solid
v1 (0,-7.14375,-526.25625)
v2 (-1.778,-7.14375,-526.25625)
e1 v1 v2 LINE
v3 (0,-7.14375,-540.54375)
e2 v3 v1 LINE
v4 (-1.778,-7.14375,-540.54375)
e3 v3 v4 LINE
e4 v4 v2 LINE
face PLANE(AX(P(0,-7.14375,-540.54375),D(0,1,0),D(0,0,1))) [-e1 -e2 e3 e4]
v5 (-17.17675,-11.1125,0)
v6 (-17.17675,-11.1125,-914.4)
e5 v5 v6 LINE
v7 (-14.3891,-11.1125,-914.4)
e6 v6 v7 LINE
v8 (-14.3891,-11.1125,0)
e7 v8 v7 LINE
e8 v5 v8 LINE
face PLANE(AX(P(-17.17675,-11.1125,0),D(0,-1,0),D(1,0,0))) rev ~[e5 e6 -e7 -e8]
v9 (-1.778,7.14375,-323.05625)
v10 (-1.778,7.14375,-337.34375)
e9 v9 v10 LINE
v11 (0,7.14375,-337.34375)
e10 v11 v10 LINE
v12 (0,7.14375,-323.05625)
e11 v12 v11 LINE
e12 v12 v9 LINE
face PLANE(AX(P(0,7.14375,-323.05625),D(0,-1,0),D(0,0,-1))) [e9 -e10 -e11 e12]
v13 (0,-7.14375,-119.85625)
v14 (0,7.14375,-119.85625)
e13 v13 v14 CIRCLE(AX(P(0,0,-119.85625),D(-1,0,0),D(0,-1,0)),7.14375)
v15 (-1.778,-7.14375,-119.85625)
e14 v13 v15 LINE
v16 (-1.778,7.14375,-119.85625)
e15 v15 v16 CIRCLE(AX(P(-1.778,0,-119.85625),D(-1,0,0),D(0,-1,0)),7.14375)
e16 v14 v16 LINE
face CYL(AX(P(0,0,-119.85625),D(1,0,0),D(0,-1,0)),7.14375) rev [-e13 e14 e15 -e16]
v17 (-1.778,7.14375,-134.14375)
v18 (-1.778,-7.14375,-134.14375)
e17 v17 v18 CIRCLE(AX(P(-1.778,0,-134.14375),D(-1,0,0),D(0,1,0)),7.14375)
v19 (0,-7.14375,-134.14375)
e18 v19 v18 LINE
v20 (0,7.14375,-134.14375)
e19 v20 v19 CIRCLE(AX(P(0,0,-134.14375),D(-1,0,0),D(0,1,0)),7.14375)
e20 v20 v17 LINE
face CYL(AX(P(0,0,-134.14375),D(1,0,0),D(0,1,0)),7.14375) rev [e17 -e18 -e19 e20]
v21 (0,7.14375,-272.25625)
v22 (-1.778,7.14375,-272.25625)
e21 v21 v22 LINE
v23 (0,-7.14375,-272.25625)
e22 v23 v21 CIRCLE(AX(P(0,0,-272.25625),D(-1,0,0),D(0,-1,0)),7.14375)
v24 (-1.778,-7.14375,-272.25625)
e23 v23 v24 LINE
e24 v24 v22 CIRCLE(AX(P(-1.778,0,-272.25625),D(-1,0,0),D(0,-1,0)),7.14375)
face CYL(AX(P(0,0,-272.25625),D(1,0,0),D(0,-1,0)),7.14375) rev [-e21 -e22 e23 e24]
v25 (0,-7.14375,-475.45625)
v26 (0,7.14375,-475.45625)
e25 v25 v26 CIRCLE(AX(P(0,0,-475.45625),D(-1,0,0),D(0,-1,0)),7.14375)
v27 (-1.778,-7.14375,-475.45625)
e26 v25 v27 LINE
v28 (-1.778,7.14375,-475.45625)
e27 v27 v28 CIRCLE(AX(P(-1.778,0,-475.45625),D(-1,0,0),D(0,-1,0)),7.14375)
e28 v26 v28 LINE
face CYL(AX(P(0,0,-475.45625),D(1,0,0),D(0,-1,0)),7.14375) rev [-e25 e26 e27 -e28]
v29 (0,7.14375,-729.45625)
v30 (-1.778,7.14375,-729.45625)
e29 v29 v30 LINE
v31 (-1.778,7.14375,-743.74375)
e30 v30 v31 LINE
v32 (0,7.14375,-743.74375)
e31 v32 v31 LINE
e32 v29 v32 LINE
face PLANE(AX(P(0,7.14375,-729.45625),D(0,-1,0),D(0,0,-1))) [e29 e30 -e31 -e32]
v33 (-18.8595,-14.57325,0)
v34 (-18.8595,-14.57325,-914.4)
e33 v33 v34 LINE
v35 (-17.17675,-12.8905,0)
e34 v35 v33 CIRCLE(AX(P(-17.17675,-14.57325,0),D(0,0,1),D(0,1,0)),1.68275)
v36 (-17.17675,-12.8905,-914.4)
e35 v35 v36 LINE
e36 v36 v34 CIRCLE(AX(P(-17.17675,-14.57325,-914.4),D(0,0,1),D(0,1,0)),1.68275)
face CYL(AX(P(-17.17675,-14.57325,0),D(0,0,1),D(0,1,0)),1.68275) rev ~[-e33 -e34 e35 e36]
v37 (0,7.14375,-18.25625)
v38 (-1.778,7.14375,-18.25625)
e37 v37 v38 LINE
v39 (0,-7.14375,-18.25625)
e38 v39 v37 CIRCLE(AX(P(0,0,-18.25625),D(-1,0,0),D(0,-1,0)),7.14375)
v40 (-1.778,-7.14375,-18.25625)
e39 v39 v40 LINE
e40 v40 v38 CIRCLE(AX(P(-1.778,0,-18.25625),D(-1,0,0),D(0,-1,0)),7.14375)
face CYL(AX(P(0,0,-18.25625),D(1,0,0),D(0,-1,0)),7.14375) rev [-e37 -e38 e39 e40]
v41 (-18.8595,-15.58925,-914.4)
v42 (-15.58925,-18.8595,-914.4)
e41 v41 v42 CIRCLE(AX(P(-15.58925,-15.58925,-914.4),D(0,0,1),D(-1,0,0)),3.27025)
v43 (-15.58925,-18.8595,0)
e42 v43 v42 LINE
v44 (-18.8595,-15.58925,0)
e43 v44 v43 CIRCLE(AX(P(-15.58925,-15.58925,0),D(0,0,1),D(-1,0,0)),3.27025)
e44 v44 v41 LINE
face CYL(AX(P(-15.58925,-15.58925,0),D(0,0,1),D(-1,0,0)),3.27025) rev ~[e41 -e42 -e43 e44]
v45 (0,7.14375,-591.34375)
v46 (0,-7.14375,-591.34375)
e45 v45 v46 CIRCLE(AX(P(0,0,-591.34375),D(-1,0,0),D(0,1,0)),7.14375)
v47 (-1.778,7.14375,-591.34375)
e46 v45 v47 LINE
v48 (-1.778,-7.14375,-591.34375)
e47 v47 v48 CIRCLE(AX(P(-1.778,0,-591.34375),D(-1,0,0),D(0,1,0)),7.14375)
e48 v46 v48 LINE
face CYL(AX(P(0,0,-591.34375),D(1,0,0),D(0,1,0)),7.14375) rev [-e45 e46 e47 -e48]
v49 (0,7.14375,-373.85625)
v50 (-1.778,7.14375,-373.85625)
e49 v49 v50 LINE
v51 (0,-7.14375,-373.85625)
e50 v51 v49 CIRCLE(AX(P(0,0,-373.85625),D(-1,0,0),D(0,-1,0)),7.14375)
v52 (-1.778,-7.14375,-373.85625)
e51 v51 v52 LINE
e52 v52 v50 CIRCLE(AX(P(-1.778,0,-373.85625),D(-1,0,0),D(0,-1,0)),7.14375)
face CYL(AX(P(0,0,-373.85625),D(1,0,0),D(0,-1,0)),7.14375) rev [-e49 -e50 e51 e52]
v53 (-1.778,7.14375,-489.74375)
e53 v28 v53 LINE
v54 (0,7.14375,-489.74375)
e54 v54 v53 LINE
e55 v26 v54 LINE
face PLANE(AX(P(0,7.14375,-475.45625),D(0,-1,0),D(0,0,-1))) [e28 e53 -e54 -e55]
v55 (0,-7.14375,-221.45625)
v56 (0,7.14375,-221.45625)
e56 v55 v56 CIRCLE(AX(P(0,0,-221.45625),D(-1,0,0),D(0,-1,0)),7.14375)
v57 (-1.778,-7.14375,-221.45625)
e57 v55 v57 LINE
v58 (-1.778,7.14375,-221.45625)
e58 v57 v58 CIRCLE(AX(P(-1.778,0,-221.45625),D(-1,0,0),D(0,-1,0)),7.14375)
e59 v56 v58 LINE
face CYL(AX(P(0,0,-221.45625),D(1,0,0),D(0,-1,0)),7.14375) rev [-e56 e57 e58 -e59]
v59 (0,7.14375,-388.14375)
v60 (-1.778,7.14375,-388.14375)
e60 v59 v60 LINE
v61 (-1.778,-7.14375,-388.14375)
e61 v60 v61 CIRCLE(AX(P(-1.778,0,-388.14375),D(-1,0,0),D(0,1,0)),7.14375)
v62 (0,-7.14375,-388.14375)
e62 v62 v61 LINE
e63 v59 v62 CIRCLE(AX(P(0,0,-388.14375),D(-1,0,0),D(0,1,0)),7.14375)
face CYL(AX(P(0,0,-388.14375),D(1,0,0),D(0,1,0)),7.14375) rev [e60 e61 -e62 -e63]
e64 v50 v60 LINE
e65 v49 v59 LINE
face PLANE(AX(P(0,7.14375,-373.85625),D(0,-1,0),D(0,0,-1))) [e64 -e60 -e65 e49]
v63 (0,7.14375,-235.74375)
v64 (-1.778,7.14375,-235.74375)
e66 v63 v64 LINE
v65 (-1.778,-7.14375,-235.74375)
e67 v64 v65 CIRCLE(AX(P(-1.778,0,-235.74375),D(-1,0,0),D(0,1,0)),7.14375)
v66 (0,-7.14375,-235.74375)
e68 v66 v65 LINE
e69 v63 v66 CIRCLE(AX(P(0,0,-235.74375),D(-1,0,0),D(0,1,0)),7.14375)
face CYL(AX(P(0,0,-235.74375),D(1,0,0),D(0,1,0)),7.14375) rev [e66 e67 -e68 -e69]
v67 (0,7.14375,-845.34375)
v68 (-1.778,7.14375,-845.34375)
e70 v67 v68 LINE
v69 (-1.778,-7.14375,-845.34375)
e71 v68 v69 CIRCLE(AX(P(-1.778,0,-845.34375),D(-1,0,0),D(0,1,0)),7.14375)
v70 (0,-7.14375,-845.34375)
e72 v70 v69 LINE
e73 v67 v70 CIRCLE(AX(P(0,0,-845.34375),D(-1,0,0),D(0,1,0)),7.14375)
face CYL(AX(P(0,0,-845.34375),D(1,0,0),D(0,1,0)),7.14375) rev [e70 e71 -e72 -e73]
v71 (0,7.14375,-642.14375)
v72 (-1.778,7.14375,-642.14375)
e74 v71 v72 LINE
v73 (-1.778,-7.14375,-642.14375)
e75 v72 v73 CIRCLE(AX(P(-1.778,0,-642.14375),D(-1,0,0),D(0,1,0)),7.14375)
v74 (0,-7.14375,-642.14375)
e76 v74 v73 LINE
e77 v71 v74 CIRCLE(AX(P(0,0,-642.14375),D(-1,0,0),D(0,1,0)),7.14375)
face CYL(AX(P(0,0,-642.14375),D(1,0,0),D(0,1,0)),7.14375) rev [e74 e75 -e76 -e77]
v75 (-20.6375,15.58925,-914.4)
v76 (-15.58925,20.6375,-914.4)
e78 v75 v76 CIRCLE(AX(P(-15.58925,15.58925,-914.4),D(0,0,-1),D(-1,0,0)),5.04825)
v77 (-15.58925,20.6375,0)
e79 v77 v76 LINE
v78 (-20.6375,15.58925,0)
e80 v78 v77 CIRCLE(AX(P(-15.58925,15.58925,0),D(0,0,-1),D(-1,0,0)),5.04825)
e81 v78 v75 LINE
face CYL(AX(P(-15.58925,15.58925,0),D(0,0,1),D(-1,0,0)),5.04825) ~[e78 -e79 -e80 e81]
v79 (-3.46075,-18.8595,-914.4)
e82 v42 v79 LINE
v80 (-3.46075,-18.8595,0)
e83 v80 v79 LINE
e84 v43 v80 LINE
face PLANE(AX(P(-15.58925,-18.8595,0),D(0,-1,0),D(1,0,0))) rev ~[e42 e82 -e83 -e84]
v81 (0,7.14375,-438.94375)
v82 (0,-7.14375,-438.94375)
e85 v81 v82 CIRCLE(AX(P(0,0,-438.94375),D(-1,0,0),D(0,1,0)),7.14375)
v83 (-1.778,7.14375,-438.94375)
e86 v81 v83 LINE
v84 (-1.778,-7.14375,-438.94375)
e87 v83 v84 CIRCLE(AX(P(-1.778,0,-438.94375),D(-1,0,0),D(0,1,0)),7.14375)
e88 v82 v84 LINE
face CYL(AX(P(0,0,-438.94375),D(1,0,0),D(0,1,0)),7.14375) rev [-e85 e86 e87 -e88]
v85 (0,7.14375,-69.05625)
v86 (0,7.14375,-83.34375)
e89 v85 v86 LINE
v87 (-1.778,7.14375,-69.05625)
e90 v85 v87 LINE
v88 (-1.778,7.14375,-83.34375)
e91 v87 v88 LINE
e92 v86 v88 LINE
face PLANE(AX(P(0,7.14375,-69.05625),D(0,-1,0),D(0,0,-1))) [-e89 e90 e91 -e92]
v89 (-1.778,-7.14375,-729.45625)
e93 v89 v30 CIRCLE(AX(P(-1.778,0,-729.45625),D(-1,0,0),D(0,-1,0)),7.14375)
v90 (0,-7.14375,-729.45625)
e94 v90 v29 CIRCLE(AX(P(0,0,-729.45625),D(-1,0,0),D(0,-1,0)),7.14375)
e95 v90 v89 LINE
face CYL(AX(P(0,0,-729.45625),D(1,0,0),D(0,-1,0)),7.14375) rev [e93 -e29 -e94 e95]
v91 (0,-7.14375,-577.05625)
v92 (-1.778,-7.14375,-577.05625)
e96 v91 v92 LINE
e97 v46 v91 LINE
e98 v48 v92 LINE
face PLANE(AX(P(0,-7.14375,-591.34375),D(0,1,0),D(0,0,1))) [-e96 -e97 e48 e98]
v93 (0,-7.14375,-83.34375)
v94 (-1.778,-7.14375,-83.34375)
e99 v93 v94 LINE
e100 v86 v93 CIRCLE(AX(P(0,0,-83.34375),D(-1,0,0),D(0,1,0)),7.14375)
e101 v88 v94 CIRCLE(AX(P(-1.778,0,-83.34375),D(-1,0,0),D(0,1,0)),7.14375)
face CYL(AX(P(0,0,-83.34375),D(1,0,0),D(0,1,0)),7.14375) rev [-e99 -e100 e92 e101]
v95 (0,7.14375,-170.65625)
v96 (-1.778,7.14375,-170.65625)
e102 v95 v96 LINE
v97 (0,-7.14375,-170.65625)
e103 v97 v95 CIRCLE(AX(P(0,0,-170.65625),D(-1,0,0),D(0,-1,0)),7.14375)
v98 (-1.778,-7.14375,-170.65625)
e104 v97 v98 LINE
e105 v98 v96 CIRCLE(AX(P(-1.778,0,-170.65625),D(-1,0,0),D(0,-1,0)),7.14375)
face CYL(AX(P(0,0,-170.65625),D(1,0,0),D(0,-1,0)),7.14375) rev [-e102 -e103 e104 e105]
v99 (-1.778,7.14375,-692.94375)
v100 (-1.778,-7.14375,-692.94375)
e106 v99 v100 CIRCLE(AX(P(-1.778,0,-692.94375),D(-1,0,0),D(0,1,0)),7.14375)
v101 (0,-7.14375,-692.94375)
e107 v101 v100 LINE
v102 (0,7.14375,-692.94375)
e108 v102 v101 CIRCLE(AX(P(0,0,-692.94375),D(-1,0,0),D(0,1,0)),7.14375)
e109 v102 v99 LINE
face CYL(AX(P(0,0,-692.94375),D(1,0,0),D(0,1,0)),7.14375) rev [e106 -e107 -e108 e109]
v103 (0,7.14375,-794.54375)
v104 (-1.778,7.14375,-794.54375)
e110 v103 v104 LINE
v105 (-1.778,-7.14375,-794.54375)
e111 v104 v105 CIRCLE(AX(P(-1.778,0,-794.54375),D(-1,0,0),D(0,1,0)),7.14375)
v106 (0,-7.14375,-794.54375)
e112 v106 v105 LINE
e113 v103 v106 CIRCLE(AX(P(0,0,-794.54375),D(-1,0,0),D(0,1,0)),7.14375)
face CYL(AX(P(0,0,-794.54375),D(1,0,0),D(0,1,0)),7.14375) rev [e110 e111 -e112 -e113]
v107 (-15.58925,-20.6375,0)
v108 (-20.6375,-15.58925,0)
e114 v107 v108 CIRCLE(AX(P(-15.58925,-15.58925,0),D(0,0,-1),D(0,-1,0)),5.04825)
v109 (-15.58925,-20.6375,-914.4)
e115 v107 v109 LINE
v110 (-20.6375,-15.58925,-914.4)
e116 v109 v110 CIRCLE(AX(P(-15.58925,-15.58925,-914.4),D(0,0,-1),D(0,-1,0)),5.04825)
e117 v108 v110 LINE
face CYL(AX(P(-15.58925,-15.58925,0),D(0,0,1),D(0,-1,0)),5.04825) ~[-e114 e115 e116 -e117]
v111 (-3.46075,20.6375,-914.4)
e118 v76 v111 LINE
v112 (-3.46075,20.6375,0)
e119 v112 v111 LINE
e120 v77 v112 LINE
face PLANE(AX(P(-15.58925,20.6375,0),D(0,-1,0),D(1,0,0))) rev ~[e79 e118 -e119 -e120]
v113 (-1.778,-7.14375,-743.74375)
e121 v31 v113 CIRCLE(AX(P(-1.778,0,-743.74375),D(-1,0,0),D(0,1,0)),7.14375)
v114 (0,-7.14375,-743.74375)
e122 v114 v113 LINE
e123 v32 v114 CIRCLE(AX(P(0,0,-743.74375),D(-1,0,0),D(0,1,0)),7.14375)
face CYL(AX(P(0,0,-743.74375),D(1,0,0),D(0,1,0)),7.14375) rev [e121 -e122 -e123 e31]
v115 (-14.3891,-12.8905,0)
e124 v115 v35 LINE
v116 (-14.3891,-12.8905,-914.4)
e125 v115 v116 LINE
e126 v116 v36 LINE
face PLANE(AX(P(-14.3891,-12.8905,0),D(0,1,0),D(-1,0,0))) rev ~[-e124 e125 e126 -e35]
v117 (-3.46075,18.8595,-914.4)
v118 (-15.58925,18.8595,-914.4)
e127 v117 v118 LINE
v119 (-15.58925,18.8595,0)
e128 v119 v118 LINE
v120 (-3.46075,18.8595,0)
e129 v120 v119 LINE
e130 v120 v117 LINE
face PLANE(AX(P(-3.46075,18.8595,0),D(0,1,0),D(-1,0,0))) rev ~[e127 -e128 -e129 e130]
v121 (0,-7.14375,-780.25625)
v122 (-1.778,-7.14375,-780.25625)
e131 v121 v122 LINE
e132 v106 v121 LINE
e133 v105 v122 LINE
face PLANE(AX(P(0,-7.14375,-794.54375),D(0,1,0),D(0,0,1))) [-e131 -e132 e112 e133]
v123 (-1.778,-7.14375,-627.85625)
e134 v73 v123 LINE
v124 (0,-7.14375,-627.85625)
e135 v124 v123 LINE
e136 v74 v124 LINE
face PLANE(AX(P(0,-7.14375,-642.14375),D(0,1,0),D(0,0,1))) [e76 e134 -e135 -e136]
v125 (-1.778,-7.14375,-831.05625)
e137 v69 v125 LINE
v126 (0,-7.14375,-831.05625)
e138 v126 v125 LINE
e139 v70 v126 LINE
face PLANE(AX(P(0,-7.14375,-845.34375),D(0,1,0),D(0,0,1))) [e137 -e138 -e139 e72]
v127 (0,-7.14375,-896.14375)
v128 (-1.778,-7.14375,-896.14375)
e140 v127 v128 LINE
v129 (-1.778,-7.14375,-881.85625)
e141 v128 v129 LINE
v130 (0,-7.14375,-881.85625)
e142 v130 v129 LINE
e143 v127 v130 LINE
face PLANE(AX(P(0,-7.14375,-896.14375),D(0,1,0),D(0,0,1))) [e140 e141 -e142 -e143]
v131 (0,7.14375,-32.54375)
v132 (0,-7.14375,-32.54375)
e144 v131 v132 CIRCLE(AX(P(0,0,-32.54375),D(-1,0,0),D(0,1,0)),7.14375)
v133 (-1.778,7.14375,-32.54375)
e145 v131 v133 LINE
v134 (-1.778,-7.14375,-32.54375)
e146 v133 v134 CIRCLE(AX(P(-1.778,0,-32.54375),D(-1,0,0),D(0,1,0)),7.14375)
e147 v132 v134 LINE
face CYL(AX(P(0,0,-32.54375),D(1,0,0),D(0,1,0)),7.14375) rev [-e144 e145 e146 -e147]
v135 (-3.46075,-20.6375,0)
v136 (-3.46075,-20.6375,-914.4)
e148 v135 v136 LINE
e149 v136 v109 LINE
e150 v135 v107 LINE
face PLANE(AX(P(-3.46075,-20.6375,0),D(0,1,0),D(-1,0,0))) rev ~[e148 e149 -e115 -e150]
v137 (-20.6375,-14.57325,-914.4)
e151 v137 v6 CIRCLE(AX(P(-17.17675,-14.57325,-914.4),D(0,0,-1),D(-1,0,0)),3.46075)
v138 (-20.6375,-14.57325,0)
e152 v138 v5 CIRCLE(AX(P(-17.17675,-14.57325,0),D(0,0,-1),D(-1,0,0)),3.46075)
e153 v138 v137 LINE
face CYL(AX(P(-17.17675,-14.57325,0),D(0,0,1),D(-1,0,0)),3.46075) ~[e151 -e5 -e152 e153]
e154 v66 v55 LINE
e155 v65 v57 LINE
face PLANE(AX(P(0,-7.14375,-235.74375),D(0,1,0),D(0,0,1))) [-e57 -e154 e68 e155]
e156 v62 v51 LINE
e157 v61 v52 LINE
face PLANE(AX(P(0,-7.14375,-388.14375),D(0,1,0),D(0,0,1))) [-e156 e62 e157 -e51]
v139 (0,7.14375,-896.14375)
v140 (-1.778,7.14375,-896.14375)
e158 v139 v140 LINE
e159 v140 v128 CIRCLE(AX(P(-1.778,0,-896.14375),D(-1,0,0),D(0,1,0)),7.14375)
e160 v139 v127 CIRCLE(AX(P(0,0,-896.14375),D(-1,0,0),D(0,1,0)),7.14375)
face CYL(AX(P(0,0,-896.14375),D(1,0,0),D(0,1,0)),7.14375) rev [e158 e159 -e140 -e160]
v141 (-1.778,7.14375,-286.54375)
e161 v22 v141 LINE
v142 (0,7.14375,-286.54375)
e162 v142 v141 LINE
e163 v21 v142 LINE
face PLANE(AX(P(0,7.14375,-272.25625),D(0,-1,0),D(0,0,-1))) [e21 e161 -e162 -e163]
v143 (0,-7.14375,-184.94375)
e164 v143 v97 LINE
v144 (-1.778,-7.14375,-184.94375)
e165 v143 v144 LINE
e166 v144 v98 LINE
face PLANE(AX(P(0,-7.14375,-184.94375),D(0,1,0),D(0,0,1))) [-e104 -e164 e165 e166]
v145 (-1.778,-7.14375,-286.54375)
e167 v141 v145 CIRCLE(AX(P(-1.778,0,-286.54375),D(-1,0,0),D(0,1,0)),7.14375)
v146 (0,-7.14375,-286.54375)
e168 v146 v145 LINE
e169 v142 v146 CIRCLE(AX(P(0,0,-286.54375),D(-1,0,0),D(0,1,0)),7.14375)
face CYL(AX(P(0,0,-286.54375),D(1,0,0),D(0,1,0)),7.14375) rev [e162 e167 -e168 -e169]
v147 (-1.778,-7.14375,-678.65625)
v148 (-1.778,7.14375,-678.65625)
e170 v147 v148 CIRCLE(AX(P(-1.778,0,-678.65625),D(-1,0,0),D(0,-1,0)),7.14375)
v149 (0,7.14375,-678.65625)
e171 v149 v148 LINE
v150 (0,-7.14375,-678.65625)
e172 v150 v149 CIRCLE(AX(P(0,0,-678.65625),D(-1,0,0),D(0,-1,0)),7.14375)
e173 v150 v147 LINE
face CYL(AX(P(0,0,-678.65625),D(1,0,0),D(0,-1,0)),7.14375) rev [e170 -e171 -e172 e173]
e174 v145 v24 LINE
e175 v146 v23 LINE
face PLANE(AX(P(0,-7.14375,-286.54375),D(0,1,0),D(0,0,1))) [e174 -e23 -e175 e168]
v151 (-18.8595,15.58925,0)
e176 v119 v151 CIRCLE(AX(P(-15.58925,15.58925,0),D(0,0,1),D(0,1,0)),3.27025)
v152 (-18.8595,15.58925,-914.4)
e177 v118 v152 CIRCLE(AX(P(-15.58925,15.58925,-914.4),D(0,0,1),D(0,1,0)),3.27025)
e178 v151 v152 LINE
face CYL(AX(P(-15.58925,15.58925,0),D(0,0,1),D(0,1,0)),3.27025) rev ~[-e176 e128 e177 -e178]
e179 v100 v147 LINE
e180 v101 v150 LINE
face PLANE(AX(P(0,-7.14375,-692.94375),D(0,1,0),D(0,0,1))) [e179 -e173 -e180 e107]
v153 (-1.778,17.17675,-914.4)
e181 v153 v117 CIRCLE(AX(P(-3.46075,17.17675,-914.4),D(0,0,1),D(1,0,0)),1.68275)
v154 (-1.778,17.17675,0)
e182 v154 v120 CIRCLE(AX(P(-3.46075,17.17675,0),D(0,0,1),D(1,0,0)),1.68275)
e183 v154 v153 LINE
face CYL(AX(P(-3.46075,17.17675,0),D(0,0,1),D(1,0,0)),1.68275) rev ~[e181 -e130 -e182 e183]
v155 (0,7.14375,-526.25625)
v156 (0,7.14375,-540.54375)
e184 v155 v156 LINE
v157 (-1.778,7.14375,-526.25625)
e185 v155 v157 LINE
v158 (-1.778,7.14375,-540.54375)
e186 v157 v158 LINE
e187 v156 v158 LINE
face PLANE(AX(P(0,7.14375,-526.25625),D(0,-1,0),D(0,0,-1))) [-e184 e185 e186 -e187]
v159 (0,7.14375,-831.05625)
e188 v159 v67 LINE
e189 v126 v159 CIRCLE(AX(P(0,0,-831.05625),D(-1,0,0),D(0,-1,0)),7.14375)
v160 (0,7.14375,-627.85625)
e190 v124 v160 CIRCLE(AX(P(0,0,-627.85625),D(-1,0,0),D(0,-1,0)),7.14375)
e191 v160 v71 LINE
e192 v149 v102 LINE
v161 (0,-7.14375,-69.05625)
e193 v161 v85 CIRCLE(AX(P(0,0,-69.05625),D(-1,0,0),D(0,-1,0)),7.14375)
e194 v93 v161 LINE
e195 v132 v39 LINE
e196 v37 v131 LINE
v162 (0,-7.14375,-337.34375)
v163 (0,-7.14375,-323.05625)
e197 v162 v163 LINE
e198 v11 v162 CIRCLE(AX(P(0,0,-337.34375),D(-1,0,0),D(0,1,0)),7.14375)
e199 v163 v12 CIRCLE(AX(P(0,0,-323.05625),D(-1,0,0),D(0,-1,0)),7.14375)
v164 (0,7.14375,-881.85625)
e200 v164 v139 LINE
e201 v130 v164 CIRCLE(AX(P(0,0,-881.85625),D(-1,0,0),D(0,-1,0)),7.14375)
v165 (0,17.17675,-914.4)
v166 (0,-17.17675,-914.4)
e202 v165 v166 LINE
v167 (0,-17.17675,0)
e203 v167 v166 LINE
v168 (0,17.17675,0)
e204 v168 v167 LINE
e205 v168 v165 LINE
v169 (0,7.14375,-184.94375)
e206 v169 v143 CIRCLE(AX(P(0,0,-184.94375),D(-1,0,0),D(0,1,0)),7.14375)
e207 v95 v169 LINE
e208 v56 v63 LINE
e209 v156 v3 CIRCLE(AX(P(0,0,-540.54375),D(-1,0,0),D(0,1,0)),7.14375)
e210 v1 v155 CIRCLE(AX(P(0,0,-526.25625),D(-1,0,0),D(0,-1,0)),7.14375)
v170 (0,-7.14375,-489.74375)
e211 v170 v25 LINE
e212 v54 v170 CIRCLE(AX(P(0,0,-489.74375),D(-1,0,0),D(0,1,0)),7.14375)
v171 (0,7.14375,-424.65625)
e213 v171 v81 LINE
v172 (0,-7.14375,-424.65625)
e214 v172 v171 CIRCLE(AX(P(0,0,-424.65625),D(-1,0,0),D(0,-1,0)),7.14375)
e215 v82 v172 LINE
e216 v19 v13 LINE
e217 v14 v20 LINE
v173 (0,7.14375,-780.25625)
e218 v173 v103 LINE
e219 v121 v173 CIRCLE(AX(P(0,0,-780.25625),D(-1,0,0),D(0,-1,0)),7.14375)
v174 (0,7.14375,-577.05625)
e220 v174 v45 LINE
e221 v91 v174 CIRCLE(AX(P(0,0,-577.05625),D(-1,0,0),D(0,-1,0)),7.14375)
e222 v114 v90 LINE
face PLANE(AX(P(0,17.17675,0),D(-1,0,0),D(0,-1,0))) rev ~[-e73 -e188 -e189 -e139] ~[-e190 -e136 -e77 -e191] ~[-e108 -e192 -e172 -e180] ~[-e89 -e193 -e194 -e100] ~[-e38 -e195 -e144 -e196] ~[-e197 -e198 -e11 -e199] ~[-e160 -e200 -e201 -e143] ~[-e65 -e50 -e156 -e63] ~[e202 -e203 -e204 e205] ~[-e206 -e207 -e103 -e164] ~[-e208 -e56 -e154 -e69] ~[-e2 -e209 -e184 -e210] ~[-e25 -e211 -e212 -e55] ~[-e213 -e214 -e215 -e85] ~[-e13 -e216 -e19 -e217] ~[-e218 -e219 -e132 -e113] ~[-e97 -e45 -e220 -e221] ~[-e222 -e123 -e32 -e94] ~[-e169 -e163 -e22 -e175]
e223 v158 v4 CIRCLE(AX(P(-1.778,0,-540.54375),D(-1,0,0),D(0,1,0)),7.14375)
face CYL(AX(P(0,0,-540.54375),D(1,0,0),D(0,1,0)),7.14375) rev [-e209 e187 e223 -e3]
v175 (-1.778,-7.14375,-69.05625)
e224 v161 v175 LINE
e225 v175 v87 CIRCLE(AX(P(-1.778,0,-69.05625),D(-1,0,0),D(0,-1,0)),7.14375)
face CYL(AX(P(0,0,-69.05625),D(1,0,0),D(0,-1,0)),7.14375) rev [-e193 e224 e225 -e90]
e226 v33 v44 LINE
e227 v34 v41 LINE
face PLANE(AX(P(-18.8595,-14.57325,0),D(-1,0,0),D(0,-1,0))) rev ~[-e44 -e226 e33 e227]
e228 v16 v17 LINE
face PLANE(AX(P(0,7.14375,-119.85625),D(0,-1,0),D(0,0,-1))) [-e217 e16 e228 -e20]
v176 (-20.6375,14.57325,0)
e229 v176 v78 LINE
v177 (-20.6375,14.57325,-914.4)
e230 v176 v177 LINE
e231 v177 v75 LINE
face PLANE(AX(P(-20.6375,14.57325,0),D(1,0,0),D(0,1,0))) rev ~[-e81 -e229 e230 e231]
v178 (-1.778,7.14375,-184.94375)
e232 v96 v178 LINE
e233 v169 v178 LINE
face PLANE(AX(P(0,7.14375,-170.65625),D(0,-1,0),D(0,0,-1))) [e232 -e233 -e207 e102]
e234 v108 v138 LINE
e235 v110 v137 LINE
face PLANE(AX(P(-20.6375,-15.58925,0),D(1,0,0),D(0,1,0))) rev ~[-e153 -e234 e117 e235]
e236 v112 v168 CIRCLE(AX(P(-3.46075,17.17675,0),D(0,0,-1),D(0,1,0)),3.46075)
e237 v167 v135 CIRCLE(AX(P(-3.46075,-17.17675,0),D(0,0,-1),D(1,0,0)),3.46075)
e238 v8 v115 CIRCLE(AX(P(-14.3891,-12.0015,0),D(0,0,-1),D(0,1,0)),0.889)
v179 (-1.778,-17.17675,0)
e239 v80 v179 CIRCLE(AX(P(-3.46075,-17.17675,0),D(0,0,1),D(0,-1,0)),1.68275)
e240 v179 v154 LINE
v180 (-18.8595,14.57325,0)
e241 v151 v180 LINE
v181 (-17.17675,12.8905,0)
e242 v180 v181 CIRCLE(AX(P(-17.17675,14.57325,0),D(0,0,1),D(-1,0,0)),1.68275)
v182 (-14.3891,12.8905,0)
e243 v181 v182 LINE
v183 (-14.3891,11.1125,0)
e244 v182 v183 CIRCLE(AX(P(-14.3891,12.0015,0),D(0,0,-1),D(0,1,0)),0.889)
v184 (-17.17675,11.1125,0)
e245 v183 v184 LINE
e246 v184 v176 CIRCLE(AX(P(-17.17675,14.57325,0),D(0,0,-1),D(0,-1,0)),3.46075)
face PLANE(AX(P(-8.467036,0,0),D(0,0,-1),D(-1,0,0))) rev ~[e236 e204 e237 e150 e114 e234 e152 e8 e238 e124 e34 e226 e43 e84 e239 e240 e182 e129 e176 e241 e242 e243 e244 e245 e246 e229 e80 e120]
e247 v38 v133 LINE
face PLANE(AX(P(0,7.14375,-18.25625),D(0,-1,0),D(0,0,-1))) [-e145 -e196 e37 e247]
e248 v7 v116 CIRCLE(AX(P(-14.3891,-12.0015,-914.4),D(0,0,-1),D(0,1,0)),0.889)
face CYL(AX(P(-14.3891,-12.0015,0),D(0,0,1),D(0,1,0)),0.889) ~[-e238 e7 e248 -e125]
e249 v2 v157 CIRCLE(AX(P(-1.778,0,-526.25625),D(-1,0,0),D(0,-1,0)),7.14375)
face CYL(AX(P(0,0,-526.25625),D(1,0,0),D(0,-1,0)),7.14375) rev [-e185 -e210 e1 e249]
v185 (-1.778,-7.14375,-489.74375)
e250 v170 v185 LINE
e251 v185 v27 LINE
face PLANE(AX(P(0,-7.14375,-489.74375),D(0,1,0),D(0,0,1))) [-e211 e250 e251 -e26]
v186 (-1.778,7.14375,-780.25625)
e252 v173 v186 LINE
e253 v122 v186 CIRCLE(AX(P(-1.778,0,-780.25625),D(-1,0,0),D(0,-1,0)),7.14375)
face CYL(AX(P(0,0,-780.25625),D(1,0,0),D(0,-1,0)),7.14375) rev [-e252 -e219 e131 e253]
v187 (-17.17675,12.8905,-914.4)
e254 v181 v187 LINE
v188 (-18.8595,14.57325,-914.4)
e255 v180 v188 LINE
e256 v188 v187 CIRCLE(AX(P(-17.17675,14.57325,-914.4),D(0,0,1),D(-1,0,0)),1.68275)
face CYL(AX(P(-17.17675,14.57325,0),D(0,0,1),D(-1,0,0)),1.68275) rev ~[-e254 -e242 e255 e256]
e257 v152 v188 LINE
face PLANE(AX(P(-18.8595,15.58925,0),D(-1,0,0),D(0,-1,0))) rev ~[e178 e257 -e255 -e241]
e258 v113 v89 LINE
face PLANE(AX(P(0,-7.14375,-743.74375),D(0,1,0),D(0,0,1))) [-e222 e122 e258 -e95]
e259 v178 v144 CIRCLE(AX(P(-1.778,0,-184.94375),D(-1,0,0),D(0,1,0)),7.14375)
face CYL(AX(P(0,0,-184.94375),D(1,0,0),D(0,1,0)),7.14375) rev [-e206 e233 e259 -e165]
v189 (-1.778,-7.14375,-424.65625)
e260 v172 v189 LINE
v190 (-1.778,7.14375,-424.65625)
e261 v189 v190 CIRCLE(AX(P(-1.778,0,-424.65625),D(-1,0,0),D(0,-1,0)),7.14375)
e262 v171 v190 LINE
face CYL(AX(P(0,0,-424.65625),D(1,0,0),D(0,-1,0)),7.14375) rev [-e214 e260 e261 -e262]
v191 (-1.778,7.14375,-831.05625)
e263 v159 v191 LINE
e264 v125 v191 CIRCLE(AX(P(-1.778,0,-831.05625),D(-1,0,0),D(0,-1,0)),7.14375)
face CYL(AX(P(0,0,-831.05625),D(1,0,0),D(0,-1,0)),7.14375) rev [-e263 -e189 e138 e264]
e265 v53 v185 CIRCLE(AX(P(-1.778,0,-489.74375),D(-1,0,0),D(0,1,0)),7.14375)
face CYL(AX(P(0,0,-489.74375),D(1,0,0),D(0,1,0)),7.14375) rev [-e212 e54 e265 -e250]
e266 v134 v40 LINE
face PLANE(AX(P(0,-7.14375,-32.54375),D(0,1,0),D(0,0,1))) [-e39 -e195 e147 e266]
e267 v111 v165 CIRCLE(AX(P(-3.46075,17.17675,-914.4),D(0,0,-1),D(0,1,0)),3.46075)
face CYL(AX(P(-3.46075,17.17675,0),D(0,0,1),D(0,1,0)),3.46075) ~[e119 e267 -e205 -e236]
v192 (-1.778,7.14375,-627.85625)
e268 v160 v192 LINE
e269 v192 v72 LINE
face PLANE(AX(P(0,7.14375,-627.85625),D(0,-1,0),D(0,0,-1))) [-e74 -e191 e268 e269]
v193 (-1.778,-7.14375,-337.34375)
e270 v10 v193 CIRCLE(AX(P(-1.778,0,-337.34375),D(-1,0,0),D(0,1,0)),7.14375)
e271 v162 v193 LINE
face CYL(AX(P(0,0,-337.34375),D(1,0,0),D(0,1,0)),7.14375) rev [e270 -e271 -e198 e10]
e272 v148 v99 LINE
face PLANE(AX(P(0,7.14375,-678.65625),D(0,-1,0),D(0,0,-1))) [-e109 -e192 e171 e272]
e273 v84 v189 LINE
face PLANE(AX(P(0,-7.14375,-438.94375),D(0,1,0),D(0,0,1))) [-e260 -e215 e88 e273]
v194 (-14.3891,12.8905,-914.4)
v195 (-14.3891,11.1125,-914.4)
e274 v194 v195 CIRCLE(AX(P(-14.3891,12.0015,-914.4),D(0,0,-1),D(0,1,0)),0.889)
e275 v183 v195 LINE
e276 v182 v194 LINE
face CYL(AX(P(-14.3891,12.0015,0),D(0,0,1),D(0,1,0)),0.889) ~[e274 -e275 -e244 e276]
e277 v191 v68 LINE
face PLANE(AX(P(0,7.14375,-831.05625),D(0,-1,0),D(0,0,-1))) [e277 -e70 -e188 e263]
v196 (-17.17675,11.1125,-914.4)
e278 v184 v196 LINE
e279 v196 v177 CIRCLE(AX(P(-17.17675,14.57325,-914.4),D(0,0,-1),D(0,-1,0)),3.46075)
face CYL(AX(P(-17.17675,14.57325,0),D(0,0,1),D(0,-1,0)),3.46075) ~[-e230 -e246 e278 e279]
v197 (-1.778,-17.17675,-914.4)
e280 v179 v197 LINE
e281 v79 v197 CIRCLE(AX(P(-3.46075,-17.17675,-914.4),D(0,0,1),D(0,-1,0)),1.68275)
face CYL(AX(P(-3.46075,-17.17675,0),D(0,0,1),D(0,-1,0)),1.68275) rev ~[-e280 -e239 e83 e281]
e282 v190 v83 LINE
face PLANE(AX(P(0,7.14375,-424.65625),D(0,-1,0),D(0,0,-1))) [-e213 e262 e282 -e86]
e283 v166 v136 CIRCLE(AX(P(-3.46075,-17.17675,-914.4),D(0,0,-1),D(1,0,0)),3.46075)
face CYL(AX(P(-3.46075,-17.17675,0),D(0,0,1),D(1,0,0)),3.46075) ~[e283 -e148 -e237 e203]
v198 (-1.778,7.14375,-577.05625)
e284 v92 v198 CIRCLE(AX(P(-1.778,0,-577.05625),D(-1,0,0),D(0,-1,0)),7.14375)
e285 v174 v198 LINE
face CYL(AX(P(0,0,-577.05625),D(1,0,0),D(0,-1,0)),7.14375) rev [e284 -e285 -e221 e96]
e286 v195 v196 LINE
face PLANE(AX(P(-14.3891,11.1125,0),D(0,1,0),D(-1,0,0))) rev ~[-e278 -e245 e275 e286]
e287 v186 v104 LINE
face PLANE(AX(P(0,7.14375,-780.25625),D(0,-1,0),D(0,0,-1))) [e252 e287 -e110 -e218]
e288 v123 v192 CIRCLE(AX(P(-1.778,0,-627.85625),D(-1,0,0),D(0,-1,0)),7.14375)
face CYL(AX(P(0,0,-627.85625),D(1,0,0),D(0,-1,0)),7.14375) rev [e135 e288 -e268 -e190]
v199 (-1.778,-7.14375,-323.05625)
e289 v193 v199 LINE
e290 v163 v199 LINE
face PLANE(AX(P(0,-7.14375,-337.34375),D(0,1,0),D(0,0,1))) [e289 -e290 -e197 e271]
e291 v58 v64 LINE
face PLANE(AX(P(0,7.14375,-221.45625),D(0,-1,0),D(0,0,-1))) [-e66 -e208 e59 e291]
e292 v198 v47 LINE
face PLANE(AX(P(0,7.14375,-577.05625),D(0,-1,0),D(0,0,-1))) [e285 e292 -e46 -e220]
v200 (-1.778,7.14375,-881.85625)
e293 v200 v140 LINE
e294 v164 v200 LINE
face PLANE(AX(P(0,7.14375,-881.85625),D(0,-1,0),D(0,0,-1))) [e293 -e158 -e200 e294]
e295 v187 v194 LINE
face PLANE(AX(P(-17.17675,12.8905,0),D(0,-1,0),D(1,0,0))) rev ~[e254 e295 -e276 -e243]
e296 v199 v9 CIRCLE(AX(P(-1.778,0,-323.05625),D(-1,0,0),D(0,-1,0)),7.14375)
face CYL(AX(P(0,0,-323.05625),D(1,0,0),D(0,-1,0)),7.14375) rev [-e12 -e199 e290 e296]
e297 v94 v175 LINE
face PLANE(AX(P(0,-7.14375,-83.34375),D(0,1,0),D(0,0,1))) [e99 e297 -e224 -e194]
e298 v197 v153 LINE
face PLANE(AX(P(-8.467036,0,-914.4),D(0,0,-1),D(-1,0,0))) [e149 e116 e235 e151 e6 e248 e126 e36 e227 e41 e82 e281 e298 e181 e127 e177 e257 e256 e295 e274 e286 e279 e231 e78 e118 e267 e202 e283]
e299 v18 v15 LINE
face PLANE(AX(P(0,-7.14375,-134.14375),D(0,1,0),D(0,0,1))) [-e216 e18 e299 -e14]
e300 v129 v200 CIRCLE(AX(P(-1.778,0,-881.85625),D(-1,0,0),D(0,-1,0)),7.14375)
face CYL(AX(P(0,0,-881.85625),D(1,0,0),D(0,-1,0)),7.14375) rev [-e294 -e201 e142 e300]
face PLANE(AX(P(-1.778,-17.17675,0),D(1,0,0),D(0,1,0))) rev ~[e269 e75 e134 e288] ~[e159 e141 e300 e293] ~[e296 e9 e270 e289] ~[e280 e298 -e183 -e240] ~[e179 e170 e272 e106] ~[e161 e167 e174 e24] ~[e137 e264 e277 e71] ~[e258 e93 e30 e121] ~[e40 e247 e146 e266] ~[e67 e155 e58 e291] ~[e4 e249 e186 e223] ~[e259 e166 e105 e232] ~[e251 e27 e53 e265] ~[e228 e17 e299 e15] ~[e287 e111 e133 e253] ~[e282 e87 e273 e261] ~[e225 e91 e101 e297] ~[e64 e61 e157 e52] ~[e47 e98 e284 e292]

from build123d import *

# Parameters (mm, degrees)
BOSS_EXTRUDE1_DEPTH = 914.4
CUT_EXTRUDE1_DEPTH  = 1.778
LPATTERN1_COUNT     = 18
LPATTERN1_PITCH     = 50.8


with BuildPart() as part:
    # Sketch1 → Boss-Extrude1 (new body)
    with BuildSketch(Plane.XY):
        with BuildLine():
            Line((-15.58925, 20.6375), (-3.46075, 20.6375))
            ThreePointArc((-3.46075, 20.6375), (-1.013630207, 19.623869793), (0, 17.17675))
            Line((0, 17.17675), (0, -17.17675))
            ThreePointArc((0, -17.17675), (-1.013630207, -19.623869793), (-3.46075, -20.6375))
            Line((-3.46075, -20.6375), (-15.58925, -20.6375))
            ThreePointArc((-15.58925, -20.6375), (-19.158901808, -19.158901808), (-20.6375, -15.58925))
            Line((-20.6375, -15.58925), (-20.6375, -14.57325))
            ThreePointArc((-20.6375, -14.57325), (-19.623869793, -12.126130207), (-17.17675, -11.1125))
            Line((-17.17675, -11.1125), (-14.3891, -11.1125))
            ThreePointArc((-14.3891, -11.1125), (-13.5001, -12.0015), (-14.3891, -12.8905))
            Line((-14.3891, -12.8905), (-17.17675, -12.8905))
            ThreePointArc((-17.17675, -12.8905), (-18.366633936, -13.383366064), (-18.8595, -14.57325))
            Line((-18.8595, -14.57325), (-18.8595, -15.58925))
            ThreePointArc((-18.8595, -15.58925), (-17.901665951, -17.901665951), (-15.58925, -18.8595))
            Line((-15.58925, -18.8595), (-3.46075, -18.8595))
            ThreePointArc((-3.46075, -18.8595), (-2.270866064, -18.366633936), (-1.778, -17.17675))
            Line((-1.778, -17.17675), (-1.778, 17.17675))
            ThreePointArc((-1.778, 17.17675), (-2.270866064, 18.366633936), (-3.46075, 18.8595))
            Line((-3.46075, 18.8595), (-15.58925, 18.8595))
            ThreePointArc((-15.58925, 18.8595), (-17.901665951, 17.901665951), (-18.8595, 15.58925))
            Line((-18.8595, 15.58925), (-18.8595, 14.57325))
            ThreePointArc((-18.8595, 14.57325), (-18.366633936, 13.383366064), (-17.17675, 12.8905))
            Line((-17.17675, 12.8905), (-14.3891, 12.8905))
            ThreePointArc((-14.3891, 12.8905), (-13.5001, 12.0015), (-14.3891, 11.1125))
            Line((-14.3891, 11.1125), (-17.17675, 11.1125))
            ThreePointArc((-17.17675, 11.1125), (-19.623869793, 12.126130207), (-20.6375, 14.57325))
            Line((-20.6375, 14.57325), (-20.6375, 15.58925))
            ThreePointArc((-20.6375, 15.58925), (-19.158901808, 19.158901808), (-15.58925, 20.6375))
        make_face()
    extrude(amount=-BOSS_EXTRUDE1_DEPTH)

    # Sketch2 → Cut-Extrude1 (cut)
    with BuildSketch(Plane(origin=(0, 0, 0), x_dir=(0, 0, -1), z_dir=(1, 0, 0))):
        with BuildLine():
            Line((18.25625, 7.14375), (32.54375, 7.14375))
            ThreePointArc((32.54375, 7.14375), (39.6875, 0), (32.54375, -7.14375))
            Line((32.54375, -7.14375), (18.25625, -7.14375))
            ThreePointArc((18.25625, -7.14375), (11.1125, 0), (18.25625, 7.14375))
        make_face()
    cut_extrude1 = extrude(amount=-CUT_EXTRUDE1_DEPTH, mode=Mode.SUBTRACT)

    # LPattern1: Cut-Extrude1 ×18
    with Locations(*[(0, 0, -i * LPATTERN1_PITCH) for i in range(1, LPATTERN1_COUNT)]):
        add(cut_extrude1, mode=Mode.SUBTRACT)


solid = part.part
